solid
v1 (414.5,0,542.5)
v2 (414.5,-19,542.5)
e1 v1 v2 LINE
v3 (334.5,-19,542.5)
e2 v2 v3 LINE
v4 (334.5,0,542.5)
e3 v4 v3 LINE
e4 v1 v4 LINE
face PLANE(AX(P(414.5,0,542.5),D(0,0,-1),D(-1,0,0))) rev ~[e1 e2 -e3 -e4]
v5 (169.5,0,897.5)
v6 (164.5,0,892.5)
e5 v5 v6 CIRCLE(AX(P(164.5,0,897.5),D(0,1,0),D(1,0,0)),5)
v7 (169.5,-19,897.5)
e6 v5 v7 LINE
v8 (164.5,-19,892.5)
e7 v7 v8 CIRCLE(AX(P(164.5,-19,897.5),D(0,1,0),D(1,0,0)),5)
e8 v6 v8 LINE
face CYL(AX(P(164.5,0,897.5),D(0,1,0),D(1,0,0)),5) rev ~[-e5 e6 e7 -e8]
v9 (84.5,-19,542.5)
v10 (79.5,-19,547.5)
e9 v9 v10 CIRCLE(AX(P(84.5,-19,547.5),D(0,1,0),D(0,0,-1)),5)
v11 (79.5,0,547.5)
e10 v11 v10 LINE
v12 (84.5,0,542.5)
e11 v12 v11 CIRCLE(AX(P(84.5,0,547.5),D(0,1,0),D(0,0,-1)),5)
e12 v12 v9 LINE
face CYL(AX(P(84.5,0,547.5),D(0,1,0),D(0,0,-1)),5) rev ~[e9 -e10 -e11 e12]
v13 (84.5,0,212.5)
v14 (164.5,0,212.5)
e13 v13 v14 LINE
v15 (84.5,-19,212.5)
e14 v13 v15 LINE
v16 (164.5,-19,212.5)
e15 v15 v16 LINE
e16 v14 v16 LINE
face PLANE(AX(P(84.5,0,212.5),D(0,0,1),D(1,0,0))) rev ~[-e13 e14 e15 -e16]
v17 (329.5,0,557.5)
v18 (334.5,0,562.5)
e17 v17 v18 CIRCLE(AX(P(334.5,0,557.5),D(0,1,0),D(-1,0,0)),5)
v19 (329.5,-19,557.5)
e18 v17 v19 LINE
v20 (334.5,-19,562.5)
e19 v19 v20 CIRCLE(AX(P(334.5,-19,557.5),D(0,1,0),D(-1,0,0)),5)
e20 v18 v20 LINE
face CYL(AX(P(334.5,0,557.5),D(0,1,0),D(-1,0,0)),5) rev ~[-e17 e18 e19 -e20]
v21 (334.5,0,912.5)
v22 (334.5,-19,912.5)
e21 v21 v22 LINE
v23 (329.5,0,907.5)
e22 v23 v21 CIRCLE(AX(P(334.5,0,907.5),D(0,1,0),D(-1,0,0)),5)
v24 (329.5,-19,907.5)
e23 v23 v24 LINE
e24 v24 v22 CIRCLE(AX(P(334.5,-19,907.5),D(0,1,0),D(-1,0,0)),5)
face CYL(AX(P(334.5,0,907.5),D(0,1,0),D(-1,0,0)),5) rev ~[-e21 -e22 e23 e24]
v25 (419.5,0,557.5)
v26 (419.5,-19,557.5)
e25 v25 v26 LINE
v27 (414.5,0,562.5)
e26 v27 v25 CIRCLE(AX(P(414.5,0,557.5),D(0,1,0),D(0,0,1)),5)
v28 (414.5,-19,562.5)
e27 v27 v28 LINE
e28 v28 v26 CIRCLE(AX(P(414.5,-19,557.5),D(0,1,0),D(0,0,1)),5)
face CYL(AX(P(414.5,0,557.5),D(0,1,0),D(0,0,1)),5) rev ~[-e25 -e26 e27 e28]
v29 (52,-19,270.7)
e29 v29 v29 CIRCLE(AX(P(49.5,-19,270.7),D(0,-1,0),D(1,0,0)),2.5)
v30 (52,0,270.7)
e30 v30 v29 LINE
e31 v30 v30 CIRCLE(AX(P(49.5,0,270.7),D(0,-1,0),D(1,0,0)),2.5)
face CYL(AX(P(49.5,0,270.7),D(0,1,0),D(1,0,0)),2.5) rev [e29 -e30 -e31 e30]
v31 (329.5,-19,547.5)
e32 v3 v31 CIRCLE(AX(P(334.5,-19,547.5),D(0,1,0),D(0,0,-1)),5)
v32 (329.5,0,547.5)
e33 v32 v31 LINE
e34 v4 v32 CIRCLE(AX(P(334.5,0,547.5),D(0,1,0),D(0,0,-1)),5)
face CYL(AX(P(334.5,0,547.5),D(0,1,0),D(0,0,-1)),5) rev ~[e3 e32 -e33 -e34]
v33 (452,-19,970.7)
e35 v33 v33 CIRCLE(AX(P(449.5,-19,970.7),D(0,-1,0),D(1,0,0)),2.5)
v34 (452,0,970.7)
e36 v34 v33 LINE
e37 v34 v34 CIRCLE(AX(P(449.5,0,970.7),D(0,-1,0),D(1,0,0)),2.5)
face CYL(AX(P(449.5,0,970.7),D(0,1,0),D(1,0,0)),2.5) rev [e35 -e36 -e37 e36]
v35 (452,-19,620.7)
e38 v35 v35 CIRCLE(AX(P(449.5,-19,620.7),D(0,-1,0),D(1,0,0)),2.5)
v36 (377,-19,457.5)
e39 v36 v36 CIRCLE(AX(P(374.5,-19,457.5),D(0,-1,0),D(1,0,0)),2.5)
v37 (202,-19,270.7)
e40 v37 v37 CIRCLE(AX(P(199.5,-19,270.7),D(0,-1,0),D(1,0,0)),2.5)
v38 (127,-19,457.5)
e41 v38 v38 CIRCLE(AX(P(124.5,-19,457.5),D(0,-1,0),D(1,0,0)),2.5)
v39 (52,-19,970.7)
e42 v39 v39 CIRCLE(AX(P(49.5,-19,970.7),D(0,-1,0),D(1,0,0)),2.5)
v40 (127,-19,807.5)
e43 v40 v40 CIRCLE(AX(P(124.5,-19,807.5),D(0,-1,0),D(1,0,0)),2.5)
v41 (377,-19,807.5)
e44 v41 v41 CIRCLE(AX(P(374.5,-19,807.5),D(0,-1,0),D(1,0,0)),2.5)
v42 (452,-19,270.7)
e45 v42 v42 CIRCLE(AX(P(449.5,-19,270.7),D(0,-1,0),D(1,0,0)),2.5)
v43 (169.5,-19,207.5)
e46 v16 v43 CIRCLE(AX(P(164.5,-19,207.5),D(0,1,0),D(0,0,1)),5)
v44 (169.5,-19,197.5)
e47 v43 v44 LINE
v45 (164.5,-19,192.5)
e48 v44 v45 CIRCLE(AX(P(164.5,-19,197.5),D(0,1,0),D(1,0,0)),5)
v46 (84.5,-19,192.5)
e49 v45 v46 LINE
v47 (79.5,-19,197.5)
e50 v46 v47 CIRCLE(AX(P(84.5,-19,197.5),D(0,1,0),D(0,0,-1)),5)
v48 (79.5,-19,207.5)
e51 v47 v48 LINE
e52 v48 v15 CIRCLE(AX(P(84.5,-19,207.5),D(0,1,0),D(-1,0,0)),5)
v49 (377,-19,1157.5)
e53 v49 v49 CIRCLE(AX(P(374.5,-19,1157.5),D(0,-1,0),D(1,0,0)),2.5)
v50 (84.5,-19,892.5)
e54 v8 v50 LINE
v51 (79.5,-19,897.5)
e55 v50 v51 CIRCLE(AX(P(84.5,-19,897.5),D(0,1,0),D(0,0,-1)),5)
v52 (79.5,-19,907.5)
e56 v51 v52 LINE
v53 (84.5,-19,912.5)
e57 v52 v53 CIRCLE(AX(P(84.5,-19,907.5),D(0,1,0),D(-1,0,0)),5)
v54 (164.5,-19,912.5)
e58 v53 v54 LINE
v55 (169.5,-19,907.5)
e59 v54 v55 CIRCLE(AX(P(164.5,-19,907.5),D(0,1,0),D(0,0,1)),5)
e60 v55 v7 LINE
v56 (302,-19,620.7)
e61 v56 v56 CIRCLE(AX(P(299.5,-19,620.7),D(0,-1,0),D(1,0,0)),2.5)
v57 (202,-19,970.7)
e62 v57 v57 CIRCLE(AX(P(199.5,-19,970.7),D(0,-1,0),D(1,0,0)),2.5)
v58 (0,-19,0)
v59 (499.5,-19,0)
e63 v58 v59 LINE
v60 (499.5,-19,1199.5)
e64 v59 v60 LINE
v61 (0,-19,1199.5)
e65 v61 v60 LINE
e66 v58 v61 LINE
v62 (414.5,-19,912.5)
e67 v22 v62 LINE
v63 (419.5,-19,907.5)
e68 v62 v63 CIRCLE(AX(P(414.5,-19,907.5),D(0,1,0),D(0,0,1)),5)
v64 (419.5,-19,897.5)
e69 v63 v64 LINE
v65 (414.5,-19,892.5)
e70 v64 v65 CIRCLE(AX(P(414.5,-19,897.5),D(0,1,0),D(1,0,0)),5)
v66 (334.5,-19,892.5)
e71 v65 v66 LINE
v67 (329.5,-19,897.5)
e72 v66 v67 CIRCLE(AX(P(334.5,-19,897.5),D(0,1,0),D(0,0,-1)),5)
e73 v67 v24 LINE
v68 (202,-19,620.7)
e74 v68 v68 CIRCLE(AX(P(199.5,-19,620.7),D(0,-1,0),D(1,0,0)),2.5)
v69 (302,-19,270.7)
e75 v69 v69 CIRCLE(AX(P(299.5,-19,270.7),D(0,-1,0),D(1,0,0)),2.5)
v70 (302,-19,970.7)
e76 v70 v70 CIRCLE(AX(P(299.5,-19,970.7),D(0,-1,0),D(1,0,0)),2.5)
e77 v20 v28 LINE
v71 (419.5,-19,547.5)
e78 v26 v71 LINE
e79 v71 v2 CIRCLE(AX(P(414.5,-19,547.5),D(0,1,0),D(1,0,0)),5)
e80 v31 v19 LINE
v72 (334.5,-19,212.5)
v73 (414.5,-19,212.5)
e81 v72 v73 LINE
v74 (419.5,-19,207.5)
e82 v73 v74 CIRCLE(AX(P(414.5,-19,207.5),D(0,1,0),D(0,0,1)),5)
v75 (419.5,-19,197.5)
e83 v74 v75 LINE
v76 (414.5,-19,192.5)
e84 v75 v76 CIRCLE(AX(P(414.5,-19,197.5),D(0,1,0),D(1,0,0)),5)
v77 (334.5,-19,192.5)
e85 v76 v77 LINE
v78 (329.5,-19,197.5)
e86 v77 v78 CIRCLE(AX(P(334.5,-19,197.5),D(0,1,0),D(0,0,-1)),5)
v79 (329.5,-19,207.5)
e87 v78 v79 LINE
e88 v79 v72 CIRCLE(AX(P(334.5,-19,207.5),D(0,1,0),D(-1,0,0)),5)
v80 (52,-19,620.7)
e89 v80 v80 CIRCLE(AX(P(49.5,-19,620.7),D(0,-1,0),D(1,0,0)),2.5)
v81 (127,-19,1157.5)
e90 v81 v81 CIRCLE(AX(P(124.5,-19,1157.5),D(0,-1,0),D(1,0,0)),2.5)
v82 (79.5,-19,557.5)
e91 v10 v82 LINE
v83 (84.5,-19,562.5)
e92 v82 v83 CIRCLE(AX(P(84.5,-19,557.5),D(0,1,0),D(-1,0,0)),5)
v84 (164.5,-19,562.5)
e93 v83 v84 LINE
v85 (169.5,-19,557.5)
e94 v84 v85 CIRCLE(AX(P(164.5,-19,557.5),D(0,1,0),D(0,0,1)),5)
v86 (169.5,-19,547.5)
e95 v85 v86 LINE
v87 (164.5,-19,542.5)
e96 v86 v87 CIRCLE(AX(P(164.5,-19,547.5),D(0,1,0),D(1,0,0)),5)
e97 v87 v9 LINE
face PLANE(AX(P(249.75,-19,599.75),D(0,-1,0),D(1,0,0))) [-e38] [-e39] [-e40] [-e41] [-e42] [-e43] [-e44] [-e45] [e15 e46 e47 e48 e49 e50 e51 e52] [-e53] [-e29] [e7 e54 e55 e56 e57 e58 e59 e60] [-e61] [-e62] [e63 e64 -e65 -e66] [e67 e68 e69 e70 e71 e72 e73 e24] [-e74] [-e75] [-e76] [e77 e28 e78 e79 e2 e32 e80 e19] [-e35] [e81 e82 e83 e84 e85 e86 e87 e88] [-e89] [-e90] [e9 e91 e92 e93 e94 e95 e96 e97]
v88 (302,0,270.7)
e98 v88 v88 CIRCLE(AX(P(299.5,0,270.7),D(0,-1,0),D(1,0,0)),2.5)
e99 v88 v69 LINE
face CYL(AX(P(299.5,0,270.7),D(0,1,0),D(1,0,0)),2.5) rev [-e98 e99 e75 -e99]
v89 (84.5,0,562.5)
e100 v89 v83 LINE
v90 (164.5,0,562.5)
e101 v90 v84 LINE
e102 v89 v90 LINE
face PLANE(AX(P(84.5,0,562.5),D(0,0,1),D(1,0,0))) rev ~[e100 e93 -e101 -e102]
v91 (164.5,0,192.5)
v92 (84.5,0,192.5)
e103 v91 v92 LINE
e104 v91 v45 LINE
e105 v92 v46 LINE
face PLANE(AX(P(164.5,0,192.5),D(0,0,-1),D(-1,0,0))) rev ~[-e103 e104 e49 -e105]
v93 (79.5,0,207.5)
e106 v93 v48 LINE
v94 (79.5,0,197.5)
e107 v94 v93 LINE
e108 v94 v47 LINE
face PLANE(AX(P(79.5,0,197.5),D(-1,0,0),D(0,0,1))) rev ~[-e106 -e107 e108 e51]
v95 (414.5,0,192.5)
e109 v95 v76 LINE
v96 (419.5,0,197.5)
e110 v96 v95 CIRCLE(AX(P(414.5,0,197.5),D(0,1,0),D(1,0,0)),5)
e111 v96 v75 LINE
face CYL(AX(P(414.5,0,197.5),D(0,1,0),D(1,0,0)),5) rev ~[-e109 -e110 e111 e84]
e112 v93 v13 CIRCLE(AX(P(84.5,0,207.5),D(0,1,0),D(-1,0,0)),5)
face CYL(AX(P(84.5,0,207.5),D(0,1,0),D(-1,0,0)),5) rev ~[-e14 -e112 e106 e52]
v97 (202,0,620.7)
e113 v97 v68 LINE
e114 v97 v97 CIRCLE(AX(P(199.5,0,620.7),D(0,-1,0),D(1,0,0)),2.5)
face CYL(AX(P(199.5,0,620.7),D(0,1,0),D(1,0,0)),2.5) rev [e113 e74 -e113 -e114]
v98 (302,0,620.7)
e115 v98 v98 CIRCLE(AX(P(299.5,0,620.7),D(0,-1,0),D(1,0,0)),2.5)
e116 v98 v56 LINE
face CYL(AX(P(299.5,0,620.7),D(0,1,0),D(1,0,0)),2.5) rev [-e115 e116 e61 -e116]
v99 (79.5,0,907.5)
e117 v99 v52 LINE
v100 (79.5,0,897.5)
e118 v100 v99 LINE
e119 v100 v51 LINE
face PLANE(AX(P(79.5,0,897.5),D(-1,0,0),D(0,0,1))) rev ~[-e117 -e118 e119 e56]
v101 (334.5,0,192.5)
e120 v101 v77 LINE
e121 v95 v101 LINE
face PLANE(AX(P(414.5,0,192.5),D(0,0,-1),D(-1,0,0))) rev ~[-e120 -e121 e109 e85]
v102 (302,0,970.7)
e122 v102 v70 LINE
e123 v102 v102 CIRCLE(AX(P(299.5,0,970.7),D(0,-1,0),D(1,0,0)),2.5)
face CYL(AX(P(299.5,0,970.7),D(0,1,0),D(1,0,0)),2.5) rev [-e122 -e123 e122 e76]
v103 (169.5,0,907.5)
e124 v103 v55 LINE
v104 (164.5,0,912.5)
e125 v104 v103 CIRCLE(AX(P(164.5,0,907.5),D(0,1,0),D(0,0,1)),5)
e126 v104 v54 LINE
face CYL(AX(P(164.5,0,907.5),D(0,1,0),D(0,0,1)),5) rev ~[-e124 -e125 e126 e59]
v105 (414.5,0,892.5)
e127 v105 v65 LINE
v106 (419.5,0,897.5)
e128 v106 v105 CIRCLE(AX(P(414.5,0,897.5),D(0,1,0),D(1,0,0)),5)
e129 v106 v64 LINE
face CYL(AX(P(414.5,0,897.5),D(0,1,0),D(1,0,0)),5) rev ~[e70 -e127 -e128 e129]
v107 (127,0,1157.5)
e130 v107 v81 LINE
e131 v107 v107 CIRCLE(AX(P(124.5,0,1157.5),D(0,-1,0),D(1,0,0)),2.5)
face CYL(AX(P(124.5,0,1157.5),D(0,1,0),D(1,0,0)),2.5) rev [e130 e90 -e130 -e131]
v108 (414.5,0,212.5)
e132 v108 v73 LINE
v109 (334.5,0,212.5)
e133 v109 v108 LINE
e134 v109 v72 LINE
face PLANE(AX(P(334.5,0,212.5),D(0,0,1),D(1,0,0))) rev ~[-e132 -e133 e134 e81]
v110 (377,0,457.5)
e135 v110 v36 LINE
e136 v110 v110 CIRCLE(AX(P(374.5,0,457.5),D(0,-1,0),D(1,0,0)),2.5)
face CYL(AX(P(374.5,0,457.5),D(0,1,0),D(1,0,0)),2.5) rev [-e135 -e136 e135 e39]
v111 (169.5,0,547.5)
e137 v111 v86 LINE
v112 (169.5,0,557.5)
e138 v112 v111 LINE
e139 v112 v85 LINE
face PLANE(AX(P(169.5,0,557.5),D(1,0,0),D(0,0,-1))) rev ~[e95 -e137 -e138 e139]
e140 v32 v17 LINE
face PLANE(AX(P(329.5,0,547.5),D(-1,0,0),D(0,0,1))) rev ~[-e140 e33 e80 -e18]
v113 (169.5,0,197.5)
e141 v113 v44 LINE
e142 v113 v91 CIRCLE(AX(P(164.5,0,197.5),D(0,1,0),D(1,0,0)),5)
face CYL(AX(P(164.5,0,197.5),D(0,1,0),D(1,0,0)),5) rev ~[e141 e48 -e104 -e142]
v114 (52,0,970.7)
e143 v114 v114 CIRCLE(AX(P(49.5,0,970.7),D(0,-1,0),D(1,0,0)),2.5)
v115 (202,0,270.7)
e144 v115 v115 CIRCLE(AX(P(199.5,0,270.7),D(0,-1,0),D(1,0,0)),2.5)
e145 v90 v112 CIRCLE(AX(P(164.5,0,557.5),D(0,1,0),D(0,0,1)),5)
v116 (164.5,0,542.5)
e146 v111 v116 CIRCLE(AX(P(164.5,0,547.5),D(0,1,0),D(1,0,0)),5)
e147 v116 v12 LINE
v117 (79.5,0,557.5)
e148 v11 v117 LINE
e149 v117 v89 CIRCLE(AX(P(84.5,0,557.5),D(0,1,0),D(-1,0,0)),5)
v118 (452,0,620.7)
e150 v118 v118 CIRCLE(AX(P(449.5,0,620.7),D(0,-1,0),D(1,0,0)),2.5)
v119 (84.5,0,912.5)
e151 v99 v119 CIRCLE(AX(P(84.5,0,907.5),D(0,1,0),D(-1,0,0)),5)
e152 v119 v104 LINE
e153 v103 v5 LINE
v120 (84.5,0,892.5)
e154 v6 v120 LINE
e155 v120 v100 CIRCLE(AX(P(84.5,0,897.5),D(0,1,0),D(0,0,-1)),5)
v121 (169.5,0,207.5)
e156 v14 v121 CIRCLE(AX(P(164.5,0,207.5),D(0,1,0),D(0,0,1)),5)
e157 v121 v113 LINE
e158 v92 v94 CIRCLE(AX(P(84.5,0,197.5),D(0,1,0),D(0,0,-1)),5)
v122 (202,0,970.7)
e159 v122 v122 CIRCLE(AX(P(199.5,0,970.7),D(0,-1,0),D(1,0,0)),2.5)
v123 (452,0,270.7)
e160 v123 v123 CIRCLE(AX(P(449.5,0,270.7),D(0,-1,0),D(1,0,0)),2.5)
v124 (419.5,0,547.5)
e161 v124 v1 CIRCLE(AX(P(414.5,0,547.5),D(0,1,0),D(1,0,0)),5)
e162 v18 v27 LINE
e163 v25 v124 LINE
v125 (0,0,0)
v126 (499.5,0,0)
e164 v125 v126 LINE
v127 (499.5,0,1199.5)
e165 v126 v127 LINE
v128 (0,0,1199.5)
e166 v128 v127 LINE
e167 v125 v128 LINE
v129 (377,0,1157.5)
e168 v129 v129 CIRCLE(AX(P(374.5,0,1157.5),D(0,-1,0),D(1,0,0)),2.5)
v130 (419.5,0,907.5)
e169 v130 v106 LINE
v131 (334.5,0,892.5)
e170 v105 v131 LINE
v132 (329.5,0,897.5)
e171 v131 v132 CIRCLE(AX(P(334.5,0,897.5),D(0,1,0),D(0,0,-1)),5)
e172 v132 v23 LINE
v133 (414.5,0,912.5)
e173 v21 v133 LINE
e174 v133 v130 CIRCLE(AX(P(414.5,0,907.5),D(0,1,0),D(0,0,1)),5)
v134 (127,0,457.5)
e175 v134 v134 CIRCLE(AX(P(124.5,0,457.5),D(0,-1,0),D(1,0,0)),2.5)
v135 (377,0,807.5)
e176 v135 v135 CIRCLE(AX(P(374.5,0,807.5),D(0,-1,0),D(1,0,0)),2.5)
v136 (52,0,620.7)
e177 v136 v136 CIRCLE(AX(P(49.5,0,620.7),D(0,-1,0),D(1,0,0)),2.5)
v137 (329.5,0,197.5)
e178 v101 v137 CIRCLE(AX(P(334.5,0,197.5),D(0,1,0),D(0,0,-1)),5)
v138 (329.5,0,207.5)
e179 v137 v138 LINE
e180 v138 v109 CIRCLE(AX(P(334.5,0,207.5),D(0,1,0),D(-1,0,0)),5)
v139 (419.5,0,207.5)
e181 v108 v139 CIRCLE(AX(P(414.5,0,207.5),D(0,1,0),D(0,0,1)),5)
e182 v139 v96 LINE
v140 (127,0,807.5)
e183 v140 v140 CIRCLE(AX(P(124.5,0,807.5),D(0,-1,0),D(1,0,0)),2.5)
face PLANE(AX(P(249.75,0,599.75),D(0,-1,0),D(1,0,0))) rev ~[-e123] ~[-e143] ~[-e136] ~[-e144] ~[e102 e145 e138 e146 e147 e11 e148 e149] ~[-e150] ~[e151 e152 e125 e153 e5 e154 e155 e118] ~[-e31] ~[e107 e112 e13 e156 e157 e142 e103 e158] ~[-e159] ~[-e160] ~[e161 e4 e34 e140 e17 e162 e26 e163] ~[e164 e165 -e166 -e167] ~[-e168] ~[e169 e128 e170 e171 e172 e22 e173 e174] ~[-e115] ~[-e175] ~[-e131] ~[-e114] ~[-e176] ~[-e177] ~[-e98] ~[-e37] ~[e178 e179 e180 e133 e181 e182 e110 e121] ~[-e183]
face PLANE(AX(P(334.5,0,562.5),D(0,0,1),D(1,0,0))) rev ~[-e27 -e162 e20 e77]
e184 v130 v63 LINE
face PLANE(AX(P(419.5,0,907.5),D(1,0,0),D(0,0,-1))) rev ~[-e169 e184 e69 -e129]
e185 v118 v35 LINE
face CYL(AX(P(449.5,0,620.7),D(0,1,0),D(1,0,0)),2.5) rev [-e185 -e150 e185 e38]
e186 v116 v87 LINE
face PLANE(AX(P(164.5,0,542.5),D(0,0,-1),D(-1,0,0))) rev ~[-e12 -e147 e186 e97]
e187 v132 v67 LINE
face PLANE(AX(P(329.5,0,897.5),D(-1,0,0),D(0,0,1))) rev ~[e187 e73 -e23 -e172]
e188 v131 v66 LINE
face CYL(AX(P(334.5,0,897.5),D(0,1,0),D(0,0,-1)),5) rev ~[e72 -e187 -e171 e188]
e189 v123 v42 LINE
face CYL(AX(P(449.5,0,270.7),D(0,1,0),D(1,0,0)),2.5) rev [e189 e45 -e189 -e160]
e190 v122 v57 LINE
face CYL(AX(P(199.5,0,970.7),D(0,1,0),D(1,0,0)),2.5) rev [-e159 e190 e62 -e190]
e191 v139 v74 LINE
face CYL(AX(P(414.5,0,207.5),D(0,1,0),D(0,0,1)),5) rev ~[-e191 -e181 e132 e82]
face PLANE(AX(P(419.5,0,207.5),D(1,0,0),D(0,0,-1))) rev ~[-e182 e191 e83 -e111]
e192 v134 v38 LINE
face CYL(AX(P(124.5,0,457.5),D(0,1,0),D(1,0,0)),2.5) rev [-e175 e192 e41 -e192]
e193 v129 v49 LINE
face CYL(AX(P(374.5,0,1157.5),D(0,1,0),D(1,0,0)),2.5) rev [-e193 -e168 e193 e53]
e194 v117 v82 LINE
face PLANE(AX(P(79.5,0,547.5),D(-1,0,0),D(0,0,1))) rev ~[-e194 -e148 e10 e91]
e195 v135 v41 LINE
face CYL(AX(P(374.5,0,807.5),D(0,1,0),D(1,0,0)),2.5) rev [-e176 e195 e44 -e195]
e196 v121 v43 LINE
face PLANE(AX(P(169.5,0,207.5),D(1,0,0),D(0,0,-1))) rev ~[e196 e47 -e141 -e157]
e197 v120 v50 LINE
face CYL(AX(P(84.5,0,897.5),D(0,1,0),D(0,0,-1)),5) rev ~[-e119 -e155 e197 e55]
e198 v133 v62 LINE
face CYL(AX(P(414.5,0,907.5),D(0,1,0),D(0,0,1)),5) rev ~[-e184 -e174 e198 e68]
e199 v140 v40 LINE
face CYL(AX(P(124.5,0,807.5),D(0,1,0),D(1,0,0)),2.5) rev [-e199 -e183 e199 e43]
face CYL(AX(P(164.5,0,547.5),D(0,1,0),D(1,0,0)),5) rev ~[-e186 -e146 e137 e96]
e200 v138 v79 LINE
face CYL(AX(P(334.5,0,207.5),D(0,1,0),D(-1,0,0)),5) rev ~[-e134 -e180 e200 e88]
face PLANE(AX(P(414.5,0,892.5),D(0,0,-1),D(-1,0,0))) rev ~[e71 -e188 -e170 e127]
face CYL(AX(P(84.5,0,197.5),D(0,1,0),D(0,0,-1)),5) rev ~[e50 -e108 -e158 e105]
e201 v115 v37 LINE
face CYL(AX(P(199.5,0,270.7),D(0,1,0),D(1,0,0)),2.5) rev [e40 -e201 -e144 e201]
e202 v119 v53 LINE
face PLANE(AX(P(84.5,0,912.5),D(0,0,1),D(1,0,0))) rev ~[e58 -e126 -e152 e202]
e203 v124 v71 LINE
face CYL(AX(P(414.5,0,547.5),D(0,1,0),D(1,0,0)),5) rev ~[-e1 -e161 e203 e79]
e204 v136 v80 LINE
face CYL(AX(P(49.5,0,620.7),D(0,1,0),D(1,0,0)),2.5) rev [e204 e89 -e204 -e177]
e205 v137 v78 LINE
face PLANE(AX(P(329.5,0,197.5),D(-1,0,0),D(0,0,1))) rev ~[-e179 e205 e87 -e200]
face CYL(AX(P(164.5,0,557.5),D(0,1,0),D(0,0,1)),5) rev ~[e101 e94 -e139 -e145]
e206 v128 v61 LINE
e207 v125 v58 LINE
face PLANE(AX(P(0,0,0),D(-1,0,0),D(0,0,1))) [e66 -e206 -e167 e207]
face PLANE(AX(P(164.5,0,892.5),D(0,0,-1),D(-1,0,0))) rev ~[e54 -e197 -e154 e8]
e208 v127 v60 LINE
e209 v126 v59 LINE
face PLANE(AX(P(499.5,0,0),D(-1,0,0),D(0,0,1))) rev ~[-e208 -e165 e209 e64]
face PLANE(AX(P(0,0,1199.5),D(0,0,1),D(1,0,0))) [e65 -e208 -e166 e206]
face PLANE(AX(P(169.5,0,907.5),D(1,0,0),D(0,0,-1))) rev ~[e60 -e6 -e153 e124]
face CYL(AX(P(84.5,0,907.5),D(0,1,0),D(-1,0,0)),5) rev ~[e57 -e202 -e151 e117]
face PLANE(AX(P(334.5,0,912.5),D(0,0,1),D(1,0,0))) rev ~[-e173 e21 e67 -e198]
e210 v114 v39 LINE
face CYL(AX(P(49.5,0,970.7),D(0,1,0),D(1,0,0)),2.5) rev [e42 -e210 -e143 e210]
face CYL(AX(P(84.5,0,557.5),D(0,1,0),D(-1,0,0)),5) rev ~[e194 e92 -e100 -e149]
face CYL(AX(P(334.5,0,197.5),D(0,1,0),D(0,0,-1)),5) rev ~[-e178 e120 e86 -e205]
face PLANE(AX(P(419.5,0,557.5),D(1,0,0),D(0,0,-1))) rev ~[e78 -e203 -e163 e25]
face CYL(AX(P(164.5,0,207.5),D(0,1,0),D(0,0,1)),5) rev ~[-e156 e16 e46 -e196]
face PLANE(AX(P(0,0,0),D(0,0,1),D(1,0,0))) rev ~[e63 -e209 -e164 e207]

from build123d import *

# Parameters (mm, degrees)
F1_W     = 499.5
F1_H     = 1199.5
F1_R     = 2.5
F2_DEPTH = 19


with BuildPart() as f2:
    # F1 (on Front) → F2 (new body)
    with BuildSketch(Plane.XZ):
        with Locations((750.25, 990.25)):
            Rectangle(F1_W, F1_H)
        with Locations((550, 661.2)):
            Circle(F1_R, mode=Mode.SUBTRACT)
        with BuildLine():
            Line((665, 583), (585, 583))
            ThreePointArc((585, 583), (581.4644660941, 584.4644660941), (580, 588))
            Line((580, 588), (580, 598))
            ThreePointArc((580, 598), (581.4644660941, 601.5355339059), (585, 603))
            Line((585, 603), (665, 603))
            ThreePointArc((665, 603), (668.5355339059, 601.5355339059), (670, 598))
            Line((670, 598), (670, 588))
            ThreePointArc((670, 588), (668.5355339059, 584.4644660941), (665, 583))
        make_face(mode=Mode.SUBTRACT)
        with Locations((700, 661.2)):
            Circle(F1_R, mode=Mode.SUBTRACT)
        with Locations((800, 661.2)):
            Circle(F1_R, mode=Mode.SUBTRACT)
        with BuildLine():
            Line((830, 588), (830, 598))
            ThreePointArc((830, 598), (831.4644660941, 601.5355339059), (835, 603))
            Line((835, 603), (915, 603))
            ThreePointArc((915, 603), (918.5355339059, 601.5355339059), (920, 598))
            Line((920, 598), (920, 588))
            ThreePointArc((920, 588), (918.5355339059, 584.4644660941), (915, 583))
            Line((915, 583), (835, 583))
            ThreePointArc((835, 583), (831.4644660941, 584.4644660941), (830, 588))
        make_face(mode=Mode.SUBTRACT)
        with Locations((950, 661.2)):
            Circle(F1_R, mode=Mode.SUBTRACT)
        with Locations((625, 848)):
            Circle(F1_R, mode=Mode.SUBTRACT)
        with BuildLine():
            ThreePointArc((585, 933), (581.4644660941, 934.4644660941), (580, 938))
            Line((580, 938), (580, 948))
            ThreePointArc((580, 948), (581.4644660941, 951.5355339059), (585, 953))
            Line((585, 953), (665, 953))
            ThreePointArc((665, 953), (668.5355339059, 951.5355339059), (670, 948))
            Line((670, 948), (670, 938))
            ThreePointArc((670, 938), (668.5355339059, 934.4644660941), (665, 933))
            Line((665, 933), (585, 933))
        make_face(mode=Mode.SUBTRACT)
        with Locations((875, 848)):
            Circle(F1_R, mode=Mode.SUBTRACT)
        with BuildLine():
            Line((830, 938), (830, 948))
            ThreePointArc((830, 948), (831.4644660941, 951.5355339059), (835, 953))
            Line((835, 953), (915, 953))
            ThreePointArc((915, 953), (918.5355339059, 951.5355339059), (920, 948))
            Line((920, 948), (920, 938))
            ThreePointArc((920, 938), (918.5355339059, 934.4644660941), (915, 933))
            Line((915, 933), (835, 933))
            ThreePointArc((835, 933), (831.4644660941, 934.4644660941), (830, 938))
        make_face(mode=Mode.SUBTRACT)
        with Locations((550, 1011.2)):
            Circle(F1_R, mode=Mode.SUBTRACT)
        with Locations((700, 1011.2)):
            Circle(F1_R, mode=Mode.SUBTRACT)
        with Locations((625, 1198)):
            Circle(F1_R, mode=Mode.SUBTRACT)
        with Locations((800, 1011.2)):
            Circle(F1_R, mode=Mode.SUBTRACT)
        with Locations((950, 1011.2)):
            Circle(F1_R, mode=Mode.SUBTRACT)
        with Locations((875, 1198)):
            Circle(F1_R, mode=Mode.SUBTRACT)
        with Locations((550, 1361.2)):
            Circle(F1_R, mode=Mode.SUBTRACT)
        with BuildLine():
            ThreePointArc((585, 1283), (581.4644660941, 1284.4644660941), (580, 1288))
            Line((580, 1288), (580, 1298))
            ThreePointArc((580, 1298), (581.4644660941, 1301.5355339059), (585, 1303))
            Line((585, 1303), (665, 1303))
            ThreePointArc((665, 1303), (668.5355339059, 1301.5355339059), (670, 1298))
            Line((670, 1298), (670, 1288))
            ThreePointArc((670, 1288), (668.5355339059, 1284.4644660941), (665, 1283))
            Line((665, 1283), (585, 1283))
        make_face(mode=Mode.SUBTRACT)
        with Locations((700, 1361.2)):
            Circle(F1_R, mode=Mode.SUBTRACT)
        with Locations((625, 1548)):
            Circle(F1_R, mode=Mode.SUBTRACT)
        with Locations((800, 1361.2)):
            Circle(F1_R, mode=Mode.SUBTRACT)
        with BuildLine():
            Line((915, 1283), (835, 1283))
            ThreePointArc((835, 1283), (831.4644660941, 1284.4644660941), (830, 1288))
            Line((830, 1288), (830, 1298))
            ThreePointArc((830, 1298), (831.4644660941, 1301.5355339059), (835, 1303))
            Line((835, 1303), (915, 1303))
            ThreePointArc((915, 1303), (918.5355339059, 1301.5355339059), (920, 1298))
            Line((920, 1298), (920, 1288))
            ThreePointArc((920, 1288), (918.5355339059, 1284.4644660941), (915, 1283))
        make_face(mode=Mode.SUBTRACT)
        with Locations((950, 1361.2)):
            Circle(F1_R, mode=Mode.SUBTRACT)
        with Locations((875, 1548)):
            Circle(F1_R, mode=Mode.SUBTRACT)
    extrude(amount=F2_DEPTH)


with BuildPart() as f2_1:
    # F3: moved
    add(f2.part.moved(Location((-500.5, 0, -390.5))))


solid = f2_1.part
